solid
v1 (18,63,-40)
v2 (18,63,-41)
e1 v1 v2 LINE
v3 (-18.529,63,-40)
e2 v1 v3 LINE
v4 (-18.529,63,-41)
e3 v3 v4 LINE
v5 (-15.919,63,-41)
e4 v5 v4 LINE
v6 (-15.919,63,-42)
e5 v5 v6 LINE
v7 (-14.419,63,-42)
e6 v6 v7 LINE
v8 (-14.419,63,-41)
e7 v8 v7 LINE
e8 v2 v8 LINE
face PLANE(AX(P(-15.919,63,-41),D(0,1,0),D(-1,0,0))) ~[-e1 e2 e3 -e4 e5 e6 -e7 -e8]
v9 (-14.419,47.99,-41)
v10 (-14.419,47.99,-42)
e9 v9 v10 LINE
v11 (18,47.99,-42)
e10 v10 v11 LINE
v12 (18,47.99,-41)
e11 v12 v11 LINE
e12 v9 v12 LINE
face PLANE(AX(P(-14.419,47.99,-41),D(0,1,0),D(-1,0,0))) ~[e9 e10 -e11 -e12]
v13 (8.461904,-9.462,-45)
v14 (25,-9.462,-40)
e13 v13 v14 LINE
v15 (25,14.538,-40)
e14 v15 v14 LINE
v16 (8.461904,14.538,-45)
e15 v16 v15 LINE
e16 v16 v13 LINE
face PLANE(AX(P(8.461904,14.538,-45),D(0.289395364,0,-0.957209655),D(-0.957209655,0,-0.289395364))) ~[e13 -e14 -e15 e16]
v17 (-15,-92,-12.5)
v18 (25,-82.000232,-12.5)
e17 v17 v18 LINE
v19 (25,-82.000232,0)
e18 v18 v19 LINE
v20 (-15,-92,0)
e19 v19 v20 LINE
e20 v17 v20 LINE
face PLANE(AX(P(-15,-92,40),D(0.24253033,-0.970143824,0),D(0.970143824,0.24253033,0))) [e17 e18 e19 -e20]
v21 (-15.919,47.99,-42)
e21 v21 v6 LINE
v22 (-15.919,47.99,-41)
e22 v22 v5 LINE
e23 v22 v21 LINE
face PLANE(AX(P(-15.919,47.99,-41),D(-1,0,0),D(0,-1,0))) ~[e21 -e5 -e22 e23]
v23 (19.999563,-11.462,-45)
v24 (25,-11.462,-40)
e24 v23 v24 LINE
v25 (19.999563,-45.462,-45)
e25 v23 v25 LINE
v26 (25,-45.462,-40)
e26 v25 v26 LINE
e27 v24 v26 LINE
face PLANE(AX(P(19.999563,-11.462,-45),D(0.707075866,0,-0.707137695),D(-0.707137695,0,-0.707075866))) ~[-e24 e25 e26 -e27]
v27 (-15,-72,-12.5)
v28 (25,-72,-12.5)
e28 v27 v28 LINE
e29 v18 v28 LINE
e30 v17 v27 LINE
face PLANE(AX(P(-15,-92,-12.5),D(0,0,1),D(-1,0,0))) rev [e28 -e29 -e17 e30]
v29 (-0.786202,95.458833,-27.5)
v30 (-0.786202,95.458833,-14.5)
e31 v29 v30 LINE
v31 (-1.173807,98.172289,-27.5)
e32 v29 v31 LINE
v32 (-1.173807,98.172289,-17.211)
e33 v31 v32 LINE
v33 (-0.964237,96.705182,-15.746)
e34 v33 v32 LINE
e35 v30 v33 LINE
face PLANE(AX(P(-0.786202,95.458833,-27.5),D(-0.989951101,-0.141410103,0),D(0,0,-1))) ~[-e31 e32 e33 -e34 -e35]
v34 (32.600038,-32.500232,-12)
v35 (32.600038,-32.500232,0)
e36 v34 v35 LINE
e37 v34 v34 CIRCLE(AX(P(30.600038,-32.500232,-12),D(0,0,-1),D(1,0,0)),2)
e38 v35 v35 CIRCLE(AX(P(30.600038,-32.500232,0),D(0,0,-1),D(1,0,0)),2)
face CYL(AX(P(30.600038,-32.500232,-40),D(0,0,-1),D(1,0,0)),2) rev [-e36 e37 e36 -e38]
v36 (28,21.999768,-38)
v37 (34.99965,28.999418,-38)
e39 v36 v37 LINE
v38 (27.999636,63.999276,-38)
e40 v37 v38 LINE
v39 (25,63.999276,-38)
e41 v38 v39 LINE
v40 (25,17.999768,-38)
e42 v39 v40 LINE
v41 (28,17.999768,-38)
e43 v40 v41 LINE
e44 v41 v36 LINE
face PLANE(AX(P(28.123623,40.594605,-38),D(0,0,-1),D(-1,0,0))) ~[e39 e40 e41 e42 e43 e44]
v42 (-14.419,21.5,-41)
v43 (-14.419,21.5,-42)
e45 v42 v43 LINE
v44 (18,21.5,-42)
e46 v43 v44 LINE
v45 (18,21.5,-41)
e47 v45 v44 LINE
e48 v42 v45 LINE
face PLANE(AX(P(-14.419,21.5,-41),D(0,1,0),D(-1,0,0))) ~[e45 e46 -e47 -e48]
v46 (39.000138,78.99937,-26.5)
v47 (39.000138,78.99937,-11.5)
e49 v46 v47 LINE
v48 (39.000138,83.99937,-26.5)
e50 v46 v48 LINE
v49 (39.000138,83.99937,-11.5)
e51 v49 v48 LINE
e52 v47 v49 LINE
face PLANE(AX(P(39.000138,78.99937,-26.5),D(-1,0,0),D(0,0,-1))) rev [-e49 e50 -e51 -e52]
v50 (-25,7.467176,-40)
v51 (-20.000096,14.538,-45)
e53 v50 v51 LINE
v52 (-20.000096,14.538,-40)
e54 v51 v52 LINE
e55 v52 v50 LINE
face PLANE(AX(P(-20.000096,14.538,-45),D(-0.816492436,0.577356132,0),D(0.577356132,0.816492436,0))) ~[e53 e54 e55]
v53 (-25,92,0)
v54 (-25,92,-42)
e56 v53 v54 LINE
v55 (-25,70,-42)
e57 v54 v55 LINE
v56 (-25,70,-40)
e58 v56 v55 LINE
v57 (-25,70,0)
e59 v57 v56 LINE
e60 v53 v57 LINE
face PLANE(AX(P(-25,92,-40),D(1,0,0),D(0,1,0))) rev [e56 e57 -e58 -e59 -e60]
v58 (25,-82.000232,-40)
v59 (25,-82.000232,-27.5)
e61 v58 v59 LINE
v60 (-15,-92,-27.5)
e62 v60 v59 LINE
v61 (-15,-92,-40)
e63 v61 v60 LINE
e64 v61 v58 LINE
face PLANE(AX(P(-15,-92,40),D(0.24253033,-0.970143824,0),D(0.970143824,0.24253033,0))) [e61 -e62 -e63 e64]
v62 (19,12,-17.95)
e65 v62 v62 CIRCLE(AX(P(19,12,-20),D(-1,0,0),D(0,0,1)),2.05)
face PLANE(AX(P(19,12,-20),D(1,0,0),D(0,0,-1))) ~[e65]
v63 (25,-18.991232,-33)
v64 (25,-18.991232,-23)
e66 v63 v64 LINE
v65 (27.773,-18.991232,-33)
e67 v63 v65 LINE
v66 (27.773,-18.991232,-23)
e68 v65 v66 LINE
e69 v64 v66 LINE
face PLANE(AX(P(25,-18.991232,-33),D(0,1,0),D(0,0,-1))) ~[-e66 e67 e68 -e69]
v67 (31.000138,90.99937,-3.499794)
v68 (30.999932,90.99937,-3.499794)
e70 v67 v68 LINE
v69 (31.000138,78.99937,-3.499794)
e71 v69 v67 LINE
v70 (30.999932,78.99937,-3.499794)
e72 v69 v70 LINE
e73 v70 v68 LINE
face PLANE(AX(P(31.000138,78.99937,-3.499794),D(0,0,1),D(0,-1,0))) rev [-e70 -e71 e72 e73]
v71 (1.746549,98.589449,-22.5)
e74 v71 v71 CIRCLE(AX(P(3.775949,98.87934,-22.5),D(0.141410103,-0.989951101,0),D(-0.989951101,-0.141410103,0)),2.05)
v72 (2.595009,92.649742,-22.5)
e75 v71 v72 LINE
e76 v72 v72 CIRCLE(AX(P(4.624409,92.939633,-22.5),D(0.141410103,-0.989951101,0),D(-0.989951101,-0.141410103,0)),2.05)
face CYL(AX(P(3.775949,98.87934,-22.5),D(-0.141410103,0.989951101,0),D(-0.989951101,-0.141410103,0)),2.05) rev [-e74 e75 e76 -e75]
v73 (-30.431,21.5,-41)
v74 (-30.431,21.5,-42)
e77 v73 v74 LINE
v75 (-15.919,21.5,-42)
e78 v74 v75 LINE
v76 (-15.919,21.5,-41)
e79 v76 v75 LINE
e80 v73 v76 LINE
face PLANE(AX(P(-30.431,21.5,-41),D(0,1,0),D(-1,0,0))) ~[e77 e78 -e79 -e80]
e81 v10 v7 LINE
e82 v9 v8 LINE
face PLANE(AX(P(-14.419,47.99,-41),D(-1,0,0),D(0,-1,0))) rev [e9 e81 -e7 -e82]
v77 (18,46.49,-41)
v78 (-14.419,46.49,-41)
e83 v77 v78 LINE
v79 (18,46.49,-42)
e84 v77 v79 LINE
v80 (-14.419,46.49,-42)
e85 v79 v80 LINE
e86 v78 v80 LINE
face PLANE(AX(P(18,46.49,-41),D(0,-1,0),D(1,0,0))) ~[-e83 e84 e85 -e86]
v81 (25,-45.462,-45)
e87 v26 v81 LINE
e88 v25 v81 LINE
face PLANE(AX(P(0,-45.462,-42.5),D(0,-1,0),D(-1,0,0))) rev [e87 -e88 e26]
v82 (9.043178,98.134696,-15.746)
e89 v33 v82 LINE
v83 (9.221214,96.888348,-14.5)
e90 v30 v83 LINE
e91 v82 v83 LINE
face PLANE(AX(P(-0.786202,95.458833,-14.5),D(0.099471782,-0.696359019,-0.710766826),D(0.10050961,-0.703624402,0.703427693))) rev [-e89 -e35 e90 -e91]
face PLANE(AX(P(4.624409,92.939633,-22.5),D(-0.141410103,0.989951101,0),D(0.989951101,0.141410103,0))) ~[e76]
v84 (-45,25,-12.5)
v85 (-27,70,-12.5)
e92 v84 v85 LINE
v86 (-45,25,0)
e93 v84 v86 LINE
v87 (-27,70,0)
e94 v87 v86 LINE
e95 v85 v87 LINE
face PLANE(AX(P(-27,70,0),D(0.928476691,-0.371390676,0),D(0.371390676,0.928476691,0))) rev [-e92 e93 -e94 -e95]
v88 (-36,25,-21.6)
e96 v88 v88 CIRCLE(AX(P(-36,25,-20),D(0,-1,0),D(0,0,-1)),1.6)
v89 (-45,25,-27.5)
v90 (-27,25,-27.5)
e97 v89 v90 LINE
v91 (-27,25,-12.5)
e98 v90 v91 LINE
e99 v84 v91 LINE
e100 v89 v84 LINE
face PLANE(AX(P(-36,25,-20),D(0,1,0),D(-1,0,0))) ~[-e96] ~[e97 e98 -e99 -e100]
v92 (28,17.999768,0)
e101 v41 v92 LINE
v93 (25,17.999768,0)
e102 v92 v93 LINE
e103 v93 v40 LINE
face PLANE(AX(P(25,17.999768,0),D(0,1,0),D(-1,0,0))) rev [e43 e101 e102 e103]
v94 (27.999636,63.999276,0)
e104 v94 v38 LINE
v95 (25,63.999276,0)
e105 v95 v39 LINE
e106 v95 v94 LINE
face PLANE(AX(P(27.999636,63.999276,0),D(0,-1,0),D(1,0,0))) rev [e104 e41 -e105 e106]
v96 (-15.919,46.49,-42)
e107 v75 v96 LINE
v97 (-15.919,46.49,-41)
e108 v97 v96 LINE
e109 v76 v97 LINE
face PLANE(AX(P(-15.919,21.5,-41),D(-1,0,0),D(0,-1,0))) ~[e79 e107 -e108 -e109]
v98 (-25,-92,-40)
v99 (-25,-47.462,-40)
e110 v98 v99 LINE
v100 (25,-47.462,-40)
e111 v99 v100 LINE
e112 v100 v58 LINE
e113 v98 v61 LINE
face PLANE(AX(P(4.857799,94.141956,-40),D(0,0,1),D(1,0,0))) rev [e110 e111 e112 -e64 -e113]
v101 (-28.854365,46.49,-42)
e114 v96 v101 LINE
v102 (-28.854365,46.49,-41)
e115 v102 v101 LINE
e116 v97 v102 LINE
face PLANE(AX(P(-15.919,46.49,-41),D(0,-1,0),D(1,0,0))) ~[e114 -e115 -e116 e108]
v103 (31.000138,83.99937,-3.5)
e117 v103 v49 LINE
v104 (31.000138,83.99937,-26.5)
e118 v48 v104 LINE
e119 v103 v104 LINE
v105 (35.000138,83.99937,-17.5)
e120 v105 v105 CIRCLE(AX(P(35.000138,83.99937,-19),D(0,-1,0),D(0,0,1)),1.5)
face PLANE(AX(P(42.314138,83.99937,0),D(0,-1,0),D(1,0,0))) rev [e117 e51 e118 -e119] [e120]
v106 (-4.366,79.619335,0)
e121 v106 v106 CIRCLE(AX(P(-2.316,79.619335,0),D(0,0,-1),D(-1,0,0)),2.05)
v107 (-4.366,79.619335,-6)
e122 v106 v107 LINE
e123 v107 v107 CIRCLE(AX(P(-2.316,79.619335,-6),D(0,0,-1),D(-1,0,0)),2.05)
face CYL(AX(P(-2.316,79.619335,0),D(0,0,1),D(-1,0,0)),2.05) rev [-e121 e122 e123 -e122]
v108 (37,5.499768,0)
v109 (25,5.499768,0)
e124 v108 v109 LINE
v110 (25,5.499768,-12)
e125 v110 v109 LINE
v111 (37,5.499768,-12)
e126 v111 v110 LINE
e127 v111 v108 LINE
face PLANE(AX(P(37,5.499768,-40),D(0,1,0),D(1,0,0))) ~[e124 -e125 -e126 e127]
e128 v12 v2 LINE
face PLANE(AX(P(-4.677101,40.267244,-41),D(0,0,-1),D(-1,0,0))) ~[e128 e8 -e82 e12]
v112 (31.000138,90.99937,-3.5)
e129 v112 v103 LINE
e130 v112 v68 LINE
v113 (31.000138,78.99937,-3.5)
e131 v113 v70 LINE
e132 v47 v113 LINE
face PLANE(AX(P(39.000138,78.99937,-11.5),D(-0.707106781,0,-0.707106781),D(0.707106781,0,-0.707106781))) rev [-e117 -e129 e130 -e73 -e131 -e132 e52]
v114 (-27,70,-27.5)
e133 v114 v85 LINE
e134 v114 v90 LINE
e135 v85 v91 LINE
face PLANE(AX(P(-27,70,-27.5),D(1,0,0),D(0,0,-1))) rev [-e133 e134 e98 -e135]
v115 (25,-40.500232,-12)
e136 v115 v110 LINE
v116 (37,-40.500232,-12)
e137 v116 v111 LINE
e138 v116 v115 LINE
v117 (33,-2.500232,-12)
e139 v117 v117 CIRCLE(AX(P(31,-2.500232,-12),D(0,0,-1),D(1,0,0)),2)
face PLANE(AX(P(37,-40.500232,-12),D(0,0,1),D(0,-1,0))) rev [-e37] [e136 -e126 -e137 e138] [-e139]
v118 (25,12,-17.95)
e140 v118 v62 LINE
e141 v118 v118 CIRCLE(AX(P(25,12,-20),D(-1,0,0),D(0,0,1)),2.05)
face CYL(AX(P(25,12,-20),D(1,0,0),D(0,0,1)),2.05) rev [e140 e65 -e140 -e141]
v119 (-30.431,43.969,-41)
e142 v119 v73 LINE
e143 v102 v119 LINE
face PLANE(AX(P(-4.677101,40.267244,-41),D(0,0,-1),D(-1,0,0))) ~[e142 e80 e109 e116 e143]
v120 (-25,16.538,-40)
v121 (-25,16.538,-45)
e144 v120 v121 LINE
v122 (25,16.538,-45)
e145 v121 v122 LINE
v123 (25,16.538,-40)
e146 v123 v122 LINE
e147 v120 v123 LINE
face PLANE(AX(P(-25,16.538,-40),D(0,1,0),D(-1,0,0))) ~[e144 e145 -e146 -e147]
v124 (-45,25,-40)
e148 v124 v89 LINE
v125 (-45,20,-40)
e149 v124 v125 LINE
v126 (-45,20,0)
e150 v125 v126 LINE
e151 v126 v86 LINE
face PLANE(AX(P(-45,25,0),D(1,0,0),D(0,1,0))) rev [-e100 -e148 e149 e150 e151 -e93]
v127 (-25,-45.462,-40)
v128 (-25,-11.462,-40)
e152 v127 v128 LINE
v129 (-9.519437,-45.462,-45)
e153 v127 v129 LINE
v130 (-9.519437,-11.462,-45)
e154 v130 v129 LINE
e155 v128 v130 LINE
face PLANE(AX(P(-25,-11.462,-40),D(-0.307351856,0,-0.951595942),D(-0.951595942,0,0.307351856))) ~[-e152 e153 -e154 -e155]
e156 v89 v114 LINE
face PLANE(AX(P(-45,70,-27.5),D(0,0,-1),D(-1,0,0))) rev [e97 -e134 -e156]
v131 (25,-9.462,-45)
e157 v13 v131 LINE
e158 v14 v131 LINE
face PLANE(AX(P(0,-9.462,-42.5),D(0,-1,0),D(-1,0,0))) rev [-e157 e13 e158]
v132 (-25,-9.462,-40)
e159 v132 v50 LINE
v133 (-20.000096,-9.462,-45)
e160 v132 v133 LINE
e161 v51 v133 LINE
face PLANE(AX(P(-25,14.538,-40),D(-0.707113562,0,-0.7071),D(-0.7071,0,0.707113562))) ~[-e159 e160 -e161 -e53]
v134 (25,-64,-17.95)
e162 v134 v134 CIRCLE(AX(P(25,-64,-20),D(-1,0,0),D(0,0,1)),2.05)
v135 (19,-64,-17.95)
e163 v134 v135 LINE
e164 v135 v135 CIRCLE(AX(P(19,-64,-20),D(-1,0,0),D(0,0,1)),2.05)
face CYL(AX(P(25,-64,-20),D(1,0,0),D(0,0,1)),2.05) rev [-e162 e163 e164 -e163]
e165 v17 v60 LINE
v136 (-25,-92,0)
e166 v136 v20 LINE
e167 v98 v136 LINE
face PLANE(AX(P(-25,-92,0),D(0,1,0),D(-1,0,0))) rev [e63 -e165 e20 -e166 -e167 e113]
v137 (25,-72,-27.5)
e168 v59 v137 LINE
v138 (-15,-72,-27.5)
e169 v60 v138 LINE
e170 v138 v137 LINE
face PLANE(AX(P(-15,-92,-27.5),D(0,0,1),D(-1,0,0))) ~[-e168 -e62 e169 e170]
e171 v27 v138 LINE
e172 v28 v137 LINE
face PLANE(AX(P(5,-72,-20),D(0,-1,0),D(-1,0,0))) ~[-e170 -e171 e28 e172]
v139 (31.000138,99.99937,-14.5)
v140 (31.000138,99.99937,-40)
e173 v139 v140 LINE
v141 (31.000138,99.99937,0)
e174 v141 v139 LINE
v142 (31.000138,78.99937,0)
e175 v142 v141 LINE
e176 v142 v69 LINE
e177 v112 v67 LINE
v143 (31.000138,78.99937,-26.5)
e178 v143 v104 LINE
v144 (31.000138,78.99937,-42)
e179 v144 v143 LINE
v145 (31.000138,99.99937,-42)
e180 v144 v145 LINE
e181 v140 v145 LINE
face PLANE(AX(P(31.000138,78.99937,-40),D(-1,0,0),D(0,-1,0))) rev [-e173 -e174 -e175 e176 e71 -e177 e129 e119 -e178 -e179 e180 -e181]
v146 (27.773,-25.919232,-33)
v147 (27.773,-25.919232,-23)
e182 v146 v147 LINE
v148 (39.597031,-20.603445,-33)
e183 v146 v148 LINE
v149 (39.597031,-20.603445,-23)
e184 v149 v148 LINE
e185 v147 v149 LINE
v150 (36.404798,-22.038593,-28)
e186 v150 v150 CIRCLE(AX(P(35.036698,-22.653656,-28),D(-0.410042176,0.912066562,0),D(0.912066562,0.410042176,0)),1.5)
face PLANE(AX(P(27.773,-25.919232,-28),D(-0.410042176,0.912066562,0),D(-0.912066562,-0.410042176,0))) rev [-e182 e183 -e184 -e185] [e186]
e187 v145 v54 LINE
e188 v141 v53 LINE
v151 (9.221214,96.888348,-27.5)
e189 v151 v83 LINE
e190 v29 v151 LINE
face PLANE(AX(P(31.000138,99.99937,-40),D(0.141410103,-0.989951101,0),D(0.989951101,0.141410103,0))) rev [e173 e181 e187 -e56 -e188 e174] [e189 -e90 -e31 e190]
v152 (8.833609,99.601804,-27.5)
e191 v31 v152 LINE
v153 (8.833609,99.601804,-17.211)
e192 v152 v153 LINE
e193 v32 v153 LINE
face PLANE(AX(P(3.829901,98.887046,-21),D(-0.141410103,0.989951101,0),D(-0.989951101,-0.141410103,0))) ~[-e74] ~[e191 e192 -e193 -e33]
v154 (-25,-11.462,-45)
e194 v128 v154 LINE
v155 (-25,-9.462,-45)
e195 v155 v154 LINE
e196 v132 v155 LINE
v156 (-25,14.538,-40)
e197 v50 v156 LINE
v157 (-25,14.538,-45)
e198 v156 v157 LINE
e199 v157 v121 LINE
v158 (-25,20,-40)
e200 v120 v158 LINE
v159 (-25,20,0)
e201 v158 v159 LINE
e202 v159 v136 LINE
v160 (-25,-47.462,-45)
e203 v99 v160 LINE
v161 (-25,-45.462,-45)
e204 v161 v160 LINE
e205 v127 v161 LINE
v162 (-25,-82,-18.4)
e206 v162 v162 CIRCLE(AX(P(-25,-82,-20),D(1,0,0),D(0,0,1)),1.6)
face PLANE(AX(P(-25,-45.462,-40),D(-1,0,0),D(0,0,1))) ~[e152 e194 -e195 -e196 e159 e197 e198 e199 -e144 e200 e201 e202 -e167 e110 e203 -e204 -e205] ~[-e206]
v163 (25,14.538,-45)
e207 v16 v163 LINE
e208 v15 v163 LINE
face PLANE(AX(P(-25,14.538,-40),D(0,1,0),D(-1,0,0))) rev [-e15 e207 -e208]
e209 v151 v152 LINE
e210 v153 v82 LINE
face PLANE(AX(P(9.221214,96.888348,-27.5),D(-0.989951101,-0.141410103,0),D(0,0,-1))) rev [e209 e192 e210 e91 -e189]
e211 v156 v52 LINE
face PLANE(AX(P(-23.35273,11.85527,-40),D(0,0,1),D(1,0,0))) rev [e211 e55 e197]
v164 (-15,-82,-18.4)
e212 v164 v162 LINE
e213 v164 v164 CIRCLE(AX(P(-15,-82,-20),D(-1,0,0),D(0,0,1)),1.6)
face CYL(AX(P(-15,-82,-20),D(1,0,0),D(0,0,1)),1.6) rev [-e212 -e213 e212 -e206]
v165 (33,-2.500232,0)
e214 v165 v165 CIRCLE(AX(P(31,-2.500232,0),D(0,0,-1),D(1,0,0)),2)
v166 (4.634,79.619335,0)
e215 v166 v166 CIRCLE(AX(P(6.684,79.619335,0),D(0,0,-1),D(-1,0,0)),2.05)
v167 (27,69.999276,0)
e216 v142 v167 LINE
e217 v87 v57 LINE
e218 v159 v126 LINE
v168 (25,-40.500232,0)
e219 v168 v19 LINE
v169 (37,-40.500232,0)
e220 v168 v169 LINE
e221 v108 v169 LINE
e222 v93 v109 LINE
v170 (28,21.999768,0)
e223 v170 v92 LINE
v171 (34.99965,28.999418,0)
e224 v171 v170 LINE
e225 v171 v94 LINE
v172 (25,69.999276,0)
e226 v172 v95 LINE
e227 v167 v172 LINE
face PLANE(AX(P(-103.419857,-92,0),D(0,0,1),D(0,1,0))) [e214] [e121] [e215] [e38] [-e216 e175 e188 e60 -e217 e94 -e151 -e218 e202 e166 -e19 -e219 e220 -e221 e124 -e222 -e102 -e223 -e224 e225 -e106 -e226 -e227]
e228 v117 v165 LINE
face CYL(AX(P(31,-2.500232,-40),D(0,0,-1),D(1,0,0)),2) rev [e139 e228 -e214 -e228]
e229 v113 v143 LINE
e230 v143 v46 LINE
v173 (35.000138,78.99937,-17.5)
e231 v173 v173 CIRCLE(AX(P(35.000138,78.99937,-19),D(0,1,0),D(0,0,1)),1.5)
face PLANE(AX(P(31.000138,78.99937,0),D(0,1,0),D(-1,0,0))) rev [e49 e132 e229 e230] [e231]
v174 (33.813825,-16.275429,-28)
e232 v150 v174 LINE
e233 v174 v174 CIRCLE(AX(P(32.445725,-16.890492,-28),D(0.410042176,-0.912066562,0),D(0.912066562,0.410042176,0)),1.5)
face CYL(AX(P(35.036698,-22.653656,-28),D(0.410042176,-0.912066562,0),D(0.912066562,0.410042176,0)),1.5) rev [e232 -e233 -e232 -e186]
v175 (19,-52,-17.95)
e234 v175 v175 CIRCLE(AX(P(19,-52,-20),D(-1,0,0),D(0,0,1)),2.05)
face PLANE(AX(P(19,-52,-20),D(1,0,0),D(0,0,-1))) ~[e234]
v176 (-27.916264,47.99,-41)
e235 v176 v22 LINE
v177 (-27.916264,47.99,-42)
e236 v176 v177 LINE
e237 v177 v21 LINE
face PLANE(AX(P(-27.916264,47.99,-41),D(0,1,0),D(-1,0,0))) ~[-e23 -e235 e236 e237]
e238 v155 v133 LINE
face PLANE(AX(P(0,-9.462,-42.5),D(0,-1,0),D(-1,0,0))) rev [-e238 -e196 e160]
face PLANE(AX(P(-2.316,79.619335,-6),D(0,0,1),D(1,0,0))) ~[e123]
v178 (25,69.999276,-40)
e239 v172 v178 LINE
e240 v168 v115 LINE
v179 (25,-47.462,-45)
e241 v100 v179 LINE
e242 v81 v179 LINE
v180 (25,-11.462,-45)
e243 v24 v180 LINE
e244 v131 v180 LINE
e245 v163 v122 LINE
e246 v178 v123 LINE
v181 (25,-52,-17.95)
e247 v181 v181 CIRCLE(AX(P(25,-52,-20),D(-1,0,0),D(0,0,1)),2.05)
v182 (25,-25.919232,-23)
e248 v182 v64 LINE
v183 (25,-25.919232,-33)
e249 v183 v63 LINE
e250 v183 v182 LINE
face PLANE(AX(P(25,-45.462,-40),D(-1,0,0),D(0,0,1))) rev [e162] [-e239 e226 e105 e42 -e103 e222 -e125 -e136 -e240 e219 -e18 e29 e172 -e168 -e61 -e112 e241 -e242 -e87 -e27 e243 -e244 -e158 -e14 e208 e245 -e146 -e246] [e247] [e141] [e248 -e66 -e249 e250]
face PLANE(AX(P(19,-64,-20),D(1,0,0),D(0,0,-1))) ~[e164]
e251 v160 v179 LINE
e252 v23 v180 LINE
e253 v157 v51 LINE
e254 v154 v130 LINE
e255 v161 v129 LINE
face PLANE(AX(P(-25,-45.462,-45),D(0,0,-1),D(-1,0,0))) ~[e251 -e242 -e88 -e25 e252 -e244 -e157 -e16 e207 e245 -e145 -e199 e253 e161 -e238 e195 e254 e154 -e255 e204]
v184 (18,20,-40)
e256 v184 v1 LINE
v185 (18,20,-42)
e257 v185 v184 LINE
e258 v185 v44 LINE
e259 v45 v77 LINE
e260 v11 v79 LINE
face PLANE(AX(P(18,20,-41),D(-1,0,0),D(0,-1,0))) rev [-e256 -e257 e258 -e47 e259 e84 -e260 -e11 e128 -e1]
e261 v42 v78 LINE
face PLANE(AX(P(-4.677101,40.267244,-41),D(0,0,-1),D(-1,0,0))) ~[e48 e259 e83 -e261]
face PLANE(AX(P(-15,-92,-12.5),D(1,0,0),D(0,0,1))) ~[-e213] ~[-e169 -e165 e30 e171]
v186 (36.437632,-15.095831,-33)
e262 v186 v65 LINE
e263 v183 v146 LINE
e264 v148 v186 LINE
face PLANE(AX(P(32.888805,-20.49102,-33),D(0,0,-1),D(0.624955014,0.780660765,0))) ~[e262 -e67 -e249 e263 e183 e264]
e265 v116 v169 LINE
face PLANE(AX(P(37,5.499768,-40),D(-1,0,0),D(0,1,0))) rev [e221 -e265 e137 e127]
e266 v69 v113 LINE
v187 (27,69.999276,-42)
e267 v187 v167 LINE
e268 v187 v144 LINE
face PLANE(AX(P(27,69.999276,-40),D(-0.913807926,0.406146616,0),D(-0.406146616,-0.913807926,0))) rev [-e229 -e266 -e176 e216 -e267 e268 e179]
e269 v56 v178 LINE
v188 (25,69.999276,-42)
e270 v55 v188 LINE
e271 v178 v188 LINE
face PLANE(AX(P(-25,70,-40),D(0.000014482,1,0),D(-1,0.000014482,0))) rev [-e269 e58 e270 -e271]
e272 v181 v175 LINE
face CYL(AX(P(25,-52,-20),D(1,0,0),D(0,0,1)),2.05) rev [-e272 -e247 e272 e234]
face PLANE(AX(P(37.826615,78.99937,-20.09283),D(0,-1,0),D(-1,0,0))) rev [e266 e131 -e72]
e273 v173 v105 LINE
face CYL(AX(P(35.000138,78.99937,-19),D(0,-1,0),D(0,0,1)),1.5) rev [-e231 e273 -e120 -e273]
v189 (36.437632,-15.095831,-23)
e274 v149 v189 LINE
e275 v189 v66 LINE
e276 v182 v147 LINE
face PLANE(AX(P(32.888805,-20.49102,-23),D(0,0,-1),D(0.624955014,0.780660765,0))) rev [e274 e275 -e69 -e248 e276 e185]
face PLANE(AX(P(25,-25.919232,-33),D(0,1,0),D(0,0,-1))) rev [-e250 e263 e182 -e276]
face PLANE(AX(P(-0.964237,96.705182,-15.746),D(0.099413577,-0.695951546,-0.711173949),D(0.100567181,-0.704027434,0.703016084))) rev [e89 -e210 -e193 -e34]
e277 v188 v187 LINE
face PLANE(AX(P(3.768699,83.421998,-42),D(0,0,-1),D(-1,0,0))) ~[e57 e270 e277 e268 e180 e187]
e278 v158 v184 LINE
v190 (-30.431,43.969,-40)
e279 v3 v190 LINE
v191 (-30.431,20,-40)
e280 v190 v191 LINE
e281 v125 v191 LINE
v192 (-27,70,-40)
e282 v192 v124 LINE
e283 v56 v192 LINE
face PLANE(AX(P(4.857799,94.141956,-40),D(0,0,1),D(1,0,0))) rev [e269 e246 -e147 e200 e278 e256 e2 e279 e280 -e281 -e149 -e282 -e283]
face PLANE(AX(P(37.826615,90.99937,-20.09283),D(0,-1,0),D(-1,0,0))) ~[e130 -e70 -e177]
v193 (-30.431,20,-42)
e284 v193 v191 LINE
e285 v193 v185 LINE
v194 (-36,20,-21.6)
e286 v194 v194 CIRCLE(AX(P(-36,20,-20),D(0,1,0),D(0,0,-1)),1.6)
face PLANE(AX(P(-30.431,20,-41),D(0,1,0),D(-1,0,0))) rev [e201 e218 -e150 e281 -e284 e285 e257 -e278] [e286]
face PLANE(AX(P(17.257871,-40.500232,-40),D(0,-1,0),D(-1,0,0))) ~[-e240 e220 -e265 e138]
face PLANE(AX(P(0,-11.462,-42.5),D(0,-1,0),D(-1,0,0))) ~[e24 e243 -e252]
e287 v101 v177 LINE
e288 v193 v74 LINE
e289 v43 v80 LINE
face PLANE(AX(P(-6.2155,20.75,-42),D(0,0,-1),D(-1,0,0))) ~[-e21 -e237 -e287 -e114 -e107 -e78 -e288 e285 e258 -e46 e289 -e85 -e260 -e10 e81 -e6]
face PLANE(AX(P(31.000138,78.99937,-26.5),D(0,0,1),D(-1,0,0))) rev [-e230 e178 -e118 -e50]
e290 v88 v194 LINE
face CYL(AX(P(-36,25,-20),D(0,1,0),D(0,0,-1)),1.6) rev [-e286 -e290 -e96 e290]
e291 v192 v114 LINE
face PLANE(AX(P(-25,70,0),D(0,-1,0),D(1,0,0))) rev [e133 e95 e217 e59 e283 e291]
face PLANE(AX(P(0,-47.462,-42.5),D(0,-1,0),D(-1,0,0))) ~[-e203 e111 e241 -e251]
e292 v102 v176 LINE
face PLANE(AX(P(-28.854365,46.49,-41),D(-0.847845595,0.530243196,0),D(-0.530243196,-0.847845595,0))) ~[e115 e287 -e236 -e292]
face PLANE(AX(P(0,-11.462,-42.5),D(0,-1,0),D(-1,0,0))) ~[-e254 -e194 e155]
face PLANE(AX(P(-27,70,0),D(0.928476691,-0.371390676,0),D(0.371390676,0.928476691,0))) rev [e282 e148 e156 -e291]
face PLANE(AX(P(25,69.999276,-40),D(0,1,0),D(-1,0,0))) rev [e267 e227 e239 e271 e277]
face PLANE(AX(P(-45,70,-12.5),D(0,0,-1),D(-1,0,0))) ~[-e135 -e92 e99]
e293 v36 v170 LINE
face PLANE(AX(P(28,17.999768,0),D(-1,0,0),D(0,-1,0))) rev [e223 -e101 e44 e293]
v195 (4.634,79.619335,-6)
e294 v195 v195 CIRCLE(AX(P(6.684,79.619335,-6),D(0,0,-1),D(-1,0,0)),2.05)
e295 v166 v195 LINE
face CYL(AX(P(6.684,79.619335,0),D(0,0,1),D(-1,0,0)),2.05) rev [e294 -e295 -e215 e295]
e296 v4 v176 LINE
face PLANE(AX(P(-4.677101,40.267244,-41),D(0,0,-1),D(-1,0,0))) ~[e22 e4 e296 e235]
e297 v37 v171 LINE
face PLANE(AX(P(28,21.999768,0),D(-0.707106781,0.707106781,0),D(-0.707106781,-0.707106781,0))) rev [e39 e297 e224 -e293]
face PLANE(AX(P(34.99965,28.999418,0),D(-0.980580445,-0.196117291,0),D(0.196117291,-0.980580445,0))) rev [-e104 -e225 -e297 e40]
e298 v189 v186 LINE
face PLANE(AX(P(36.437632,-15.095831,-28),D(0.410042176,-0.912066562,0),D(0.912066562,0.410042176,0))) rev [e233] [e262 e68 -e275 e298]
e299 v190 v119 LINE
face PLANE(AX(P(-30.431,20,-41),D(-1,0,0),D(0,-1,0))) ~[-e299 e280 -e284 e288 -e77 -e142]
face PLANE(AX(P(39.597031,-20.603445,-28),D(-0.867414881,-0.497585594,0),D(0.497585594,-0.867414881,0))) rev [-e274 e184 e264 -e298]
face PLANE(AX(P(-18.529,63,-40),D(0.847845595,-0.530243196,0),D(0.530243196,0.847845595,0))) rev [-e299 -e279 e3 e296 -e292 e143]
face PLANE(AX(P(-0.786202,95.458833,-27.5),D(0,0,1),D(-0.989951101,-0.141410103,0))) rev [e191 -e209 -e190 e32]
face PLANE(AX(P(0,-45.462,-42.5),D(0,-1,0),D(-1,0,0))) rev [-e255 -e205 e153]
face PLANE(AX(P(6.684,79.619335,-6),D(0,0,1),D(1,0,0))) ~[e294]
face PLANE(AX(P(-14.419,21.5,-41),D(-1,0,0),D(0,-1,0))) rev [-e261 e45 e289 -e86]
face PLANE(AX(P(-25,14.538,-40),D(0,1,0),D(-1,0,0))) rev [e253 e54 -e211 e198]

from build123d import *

# Parameters (mm, degrees)
CROQUIS1_W                  = 50
CROQUIS1_H                  = 184
SALIENTE_EXTRUIR1_DEPTH     = 40
CORTAR_EXTRUIR1_DEPTH       = 40
CROQUIS3_R                  = 2
SALIENTE_EXTRUIR2_DEPTH     = 40
SALIENTE_EXTRUIR3_DEPTH     = 38
SALIENTE_EXTRUIR4_DEPTH     = 40
CROQUIS9_W                  = 28
CROQUIS9_H                  = 46
CORTAR_EXTRUIR6_DEPTH       = 12
CORTAR_EXTRUIR8_DEPTH       = 12
CROQUIS13_W                 = 3.499793878
CROQUIS13_H                 = 12
SALIENTE_EXTRUIR5_DEPTH     = 12
CROQUIS14_R                 = 1.5
CORTAR_EXTRUIR9_DEPTH       = 12
CROQUIS16_W                 = 10
CROQUIS16_H                 = 6.928
SALIENTE_EXTRUIR6_DEPTH     = 2.773
SALIENTE_EXTRUIR7_DEPTH     = 5
CROQUIS19_R                 = 1.5
CORTAR_EXTRUIR10_DEPTH      = 10
CROQUIS20_W                 = 40
CROQUIS20_H                 = 15
CORTAR_EXTRUIR11_DEPTH      = 20
SALIENTE_EXTRUIR8_DEPTH     = 40
SALIENTE_EXTRUIR9_DEPTH     = 40
SALIENTE_EXTRUIR10_DEPTH    = 2
CROQUIS25_W                 = 18
CROQUIS25_H                 = 15
CORTAR_EXTRUIR12_DEPTH      = 45
CROQUIS26_R                 = 1.6
CORTAR_EXTRUIR13_DEPTH      = 45
SALIENTE_EXTRUIR11_DEPTH    = 1
CROQUIS29_W                 = 48.431
CROQUIS29_H                 = 1.5
CROQUIS29_W_2               = 1.5
CROQUIS29_H_2               = 41.5
SALIENTE_EXTRUIR12_DEPTH    = 1
CROQUIS30_W                 = 50
CROQUIS30_H                 = 2
SALIENTE_EXTRUIR13_DEPTH    = 5
SALIENTE_EXTRUIR14_DEPTH    = 24
CORTAR_EXTRUIR14_DEPTH      = 5
CROQUIS33_W                 = 50
CROQUIS33_H                 = 5
SALIENTE_EXTRUIR15_DEPTH    = 2
SALIENTE_EXTRUIR16_DEPTH    = 34
CROQUIS35_W                 = 50
CROQUIS35_H                 = 5
SALIENTE_EXTRUIR17_DEPTH    = 2
CROQUIS36_R                 = 1.6
CORTAR_EXTRUIR15_DEPTH      = 123.497795141
CROQUIS37_R                 = 2.05
CORTAR_EXTRUIR16_DEPTH      = 6
CROQUIS38_R                 = 2.05
CORTAR_EXTRUIR17_DEPTH      = 6
CROQUIS39_W                 = 10.109
CROQUIS39_H                 = 13
SALIENTE_EXTRUIR18_DEPTH    = 2.741
CORTAR_EXTRUIR18_DEPTH      = 123.414338069
CROQUIS42_R                 = 2.05
CORTAR_EXTRUIR19_DEPTH      = 6
CORTAR_EXTRUIR20_DEPTH      = 134.419994789
CORTAR_EXTRUIR20_DEPTH_BACK = 134.419994789
CROQUIS44_W                 = 64.640952058
CROQUIS44_H                 = 86.005379165
CORTAR_EXTRUIR21_DEPTH      = 134.419994789


with BuildPart() as part:
    # Croquis1 → Saliente-Extruir1 (new body)
    with BuildSketch(Plane.XY):
        Rectangle(CROQUIS1_W, CROQUIS1_H)
    saliente_extruir1 = extrude(amount=SALIENTE_EXTRUIR1_DEPTH)

    # Croquis2 → Cortar-Extruir1 (cut)
    with BuildSketch(Plane.XY.offset(40)):
        Polygon((-15, -92), (25, -82.000231953), (25, -92), align=None)
    cortar_extruir1 = extrude(amount=-CORTAR_EXTRUIR1_DEPTH, mode=Mode.SUBTRACT)

    # Croquis3 → Saliente-Extruir2 (add, through all)
    with BuildSketch(Plane.XY.offset(40)):
        Polygon((25, -40.500231953), (17.257871302, -40.500231953), (17.257871302, 5.499768047), (23, 5.499768047), (37, 5.499768047), (37, -40.500231953), align=None)
        with Locations((30.600037882, -32.500231953)):
            Circle(CROQUIS3_R, mode=Mode.SUBTRACT)
        with Locations((31, -2.500231953)):
            Circle(CROQUIS3_R, mode=Mode.SUBTRACT)
    saliente_extruir2 = extrude(amount=-SALIENTE_EXTRUIR2_DEPTH)

    # Croquis7 → Saliente-Extruir3 (add)
    with BuildSketch(Plane(origin=(0, 0, 0), x_dir=(-1, 0, 0), z_dir=(0, 0, -1))):
        Polygon((-25, 17.999768047), (-28, 17.999768047), (-28, 21.999768047), (-34.999650027, 28.999418074), (-27.999635566, 63.999275882), (-25, 63.999275882), align=None)
    saliente_extruir3 = extrude(amount=-SALIENTE_EXTRUIR3_DEPTH)

    # Croquis8 → Saliente-Extruir4 (add, through all)
    with BuildSketch(Plane(origin=(0, 0, 0), x_dir=(-1, 0, 0), z_dir=(0, 0, -1))):
        Polygon((-25, 69.999275882), (-27, 69.999275882), (-31.000138025, 78.999370147), (-42.314138025, 78.999370147), (-42.314138025, 83.999370147), (-31.000138025, 83.999370147), (-31.000138025, 92), (-25, 92), align=None)
    saliente_extruir4 = extrude(amount=-SALIENTE_EXTRUIR4_DEPTH)

    # Croquis9 → Cortar-Extruir6 (cut)
    with BuildSketch(Plane(origin=(37, 0, 0), x_dir=(0, 0, -1), z_dir=(1, 0, 0))):
        with Locations((-26, -17.500231953)):
            Rectangle(CROQUIS9_W, CROQUIS9_H)
    cortar_extruir6 = extrude(amount=-CORTAR_EXTRUIR6_DEPTH, mode=Mode.SUBTRACT)

    # Croquis10 → Cortar-Extruir8 (cut)
    with BuildSketch(Plane.XZ.offset(-78.999370147)):
        Polygon((31.000138025, 40), (31.000138025, 26.5), (39.000138025, 26.5), (39.000138025, 11.5), (30.999931903, 3.499793878), (31.000138025, 0), (42.314138025, 0), (42.314138025, 40), align=None)
    cortar_extruir8 = extrude(amount=-CORTAR_EXTRUIR8_DEPTH, mode=Mode.SUBTRACT)

    # Croquis13 → Saliente-Extruir5 (add)
    with BuildSketch(Plane(origin=(31.000138025, 0, 0), x_dir=(0, 0, -1), z_dir=(1, 0, 0))):
        with Locations((-1.749896939, 84.999370147)):
            Rectangle(CROQUIS13_W, CROQUIS13_H)
    saliente_extruir5 = extrude(amount=-SALIENTE_EXTRUIR5_DEPTH)

    # Croquis14 → Cortar-Extruir9 (cut)
    with BuildSketch(Plane.XZ.offset(-78.999370147)):
        with Locations(Location((35.000138025, 19, 0), (0, 0, 270))):
            Circle(CROQUIS14_R)
    cortar_extruir9 = extrude(amount=-CORTAR_EXTRUIR9_DEPTH, mode=Mode.SUBTRACT)

    # Croquis16 → Saliente-Extruir6 (add)
    with BuildSketch(Plane(origin=(25, 0, 0), x_dir=(0, 0, -1), z_dir=(1, 0, 0))):
        with Locations((-28, -22.455231953)):
            Rectangle(CROQUIS16_W, CROQUIS16_H)
    saliente_extruir6 = extrude(amount=SALIENTE_EXTRUIR6_DEPTH)

    # Croquis3D1 → Saliente-Extruir7 (add, symmetric)
    with BuildSketch(Plane(origin=(27.773, -25.919231953, 28), x_dir=(0.6249550138681161, 0.7806607654039639, 0), z_dir=(0, 0, -1))):
        Polygon((0, 0), (11.53931357, 5.90842943), (13.864409677, 0), (5.408417783, -4.329688336), align=None)
    saliente_extruir7 = extrude(amount=SALIENTE_EXTRUIR7_DEPTH, both=True)

    # Croquis19 → Cortar-Extruir10 (cut)
    with BuildSketch(Plane(origin=(14.363025456, -31.948019069, 0), x_dir=(0.9120665622973847, 0.41004217580516156, 0), z_dir=(0.4100421758051615, -0.9120665622973846, 0))):
        with Locations((22.66684637, 28)):
            Circle(CROQUIS19_R)
    cortar_extruir10 = extrude(amount=-CORTAR_EXTRUIR10_DEPTH, mode=Mode.SUBTRACT)

    # Croquis20 → Cortar-Extruir11 (cut)
    with BuildSketch(Plane.XZ.offset(92)):
        with Locations((5, 20)):
            Rectangle(CROQUIS20_W, CROQUIS20_H)
    cortar_extruir11 = extrude(amount=-CORTAR_EXTRUIR11_DEPTH, mode=Mode.SUBTRACT)

    # Croquis21 → Saliente-Extruir8 (add)
    with BuildSketch(Plane(origin=(0, 0, 0), x_dir=(-1, 0, 0), z_dir=(0, 0, -1))):
        Polygon((25, 70), (27, 70), (45, 25), (45, 20), (25, 20), align=None)
    saliente_extruir8 = extrude(amount=-SALIENTE_EXTRUIR8_DEPTH)

    # Croquis22 → Saliente-Extruir9 (add)
    with BuildSketch(Plane.XY.offset(40)):
        Polygon((-25, 92), (31.000138025, 99.999370147), (31.000138025, 92), align=None)
    saliente_extruir9 = extrude(amount=-SALIENTE_EXTRUIR9_DEPTH)

    # Croquis23 → Saliente-Extruir10 (add)
    with BuildSketch(Plane.XY.offset(40)):
        Polygon((-25, 70), (25, 69.999275882), (27, 69.999275882), (31.000138025, 78.999370147), (31.000138025, 99.999370147), (-25, 92), align=None)
    saliente_extruir10 = extrude(amount=SALIENTE_EXTRUIR10_DEPTH)

    # Croquis25 → Cortar-Extruir12 (cut)
    with BuildSketch(Plane(origin=(0, 70, 0), x_dir=(1, 0, 0), z_dir=(0, 1, 0))):
        with Locations((-36, -20)):
            Rectangle(CROQUIS25_W, CROQUIS25_H)
    cortar_extruir12 = extrude(amount=-CORTAR_EXTRUIR12_DEPTH, mode=Mode.SUBTRACT)

    # Croquis26 → Cortar-Extruir13 (cut)
    with BuildSketch(Plane(origin=(0, 25, 0), x_dir=(1, 0, 0), z_dir=(0, 1, 0))):
        with Locations(Location((-36, -20, 0), (0, 0, 270))):
            Circle(CROQUIS26_R)
    cortar_extruir13 = extrude(amount=-CORTAR_EXTRUIR13_DEPTH, mode=Mode.SUBTRACT)

    # Croquis28 → Saliente-Extruir11 (add)
    with BuildSketch(Plane.XY.offset(40)):
        Polygon((-30.431, 20), (18, 20), (18, 63), (-18.529, 63), (-30.431, 43.969), align=None)
    saliente_extruir11 = extrude(amount=SALIENTE_EXTRUIR11_DEPTH)

    # Croquis29 → Saliente-Extruir12 (add)
    with BuildSketch(Plane.XY.offset(41)):
        with Locations((-6.2155, 20.75)):
            Rectangle(CROQUIS29_W, CROQUIS29_H)
        with Locations((-15.169, 42.25)):
            Rectangle(CROQUIS29_W_2, CROQUIS29_H_2)
        Polygon((-15.919, 47.99), (18, 47.99), (18, 46.49), (-28.854364931, 46.49), (-27.916263938, 47.99), align=None)
    saliente_extruir12 = extrude(amount=SALIENTE_EXTRUIR12_DEPTH)

    # Croquis30 → Saliente-Extruir13 (add)
    with BuildSketch(Plane.XY.offset(40)):
        with Locations((0, 15.538)):
            Rectangle(CROQUIS30_W, CROQUIS30_H)
    saliente_extruir13 = extrude(amount=SALIENTE_EXTRUIR13_DEPTH)

    # Croquis31 → Saliente-Extruir14 (add)
    with BuildSketch(Plane.XZ.offset(-14.538)):
        Polygon((-25, 40), (-20.000095901, 45), (8.461904099, 45), (25, 40), align=None)
    saliente_extruir14 = extrude(amount=SALIENTE_EXTRUIR14_DEPTH)

    # Croquis32 → Cortar-Extruir14 (cut)
    with BuildSketch(Plane.XY.offset(45)):
        Polygon((-20.000095901, 14.538), (-25, 7.467175508), (-25, 14.538), align=None)
    cortar_extruir14 = extrude(amount=-CORTAR_EXTRUIR14_DEPTH, mode=Mode.SUBTRACT)

    # Croquis33 → Saliente-Extruir15 (add)
    with BuildSketch(Plane.XZ.offset(9.462)):
        with Locations((0, 42.5)):
            Rectangle(CROQUIS33_W, CROQUIS33_H)
    saliente_extruir15 = extrude(amount=SALIENTE_EXTRUIR15_DEPTH)

    # Croquis34 → Saliente-Extruir16 (add)
    with BuildSketch(Plane.XZ.offset(11.462)):
        Polygon((-25, 40), (-9.51943722, 45), (19.99956278, 45), (25, 40), align=None)
    saliente_extruir16 = extrude(amount=SALIENTE_EXTRUIR16_DEPTH)

    # Croquis35 → Saliente-Extruir17 (add)
    with BuildSketch(Plane.XZ.offset(45.462)):
        with Locations((0, 42.5)):
            Rectangle(CROQUIS35_W, CROQUIS35_H)
    saliente_extruir17 = extrude(amount=SALIENTE_EXTRUIR17_DEPTH)

    # Croquis36 → Cortar-Extruir15 (cut, through all)
    with BuildSketch(Plane(origin=(-15, 0, 0), x_dir=(0, 0, -1), z_dir=(1, 0, 0))):
        with Locations((-20, -82)):
            Circle(CROQUIS36_R)
    cortar_extruir15 = extrude(amount=-CORTAR_EXTRUIR15_DEPTH, mode=Mode.SUBTRACT)

    # Croquis37 → Cortar-Extruir16 (cut)
    with BuildSketch(Plane(origin=(25, 0, 0), x_dir=(0, 0, -1), z_dir=(1, 0, 0))):
        with Locations((-20, -64)):
            Circle(CROQUIS37_R)
        with Locations((-20, -52)):
            Circle(CROQUIS37_R)
        with Locations((-20, 12)):
            Circle(CROQUIS37_R)
    cortar_extruir16 = extrude(amount=-CORTAR_EXTRUIR16_DEPTH, mode=Mode.SUBTRACT)

    # Croquis38 → Cortar-Extruir17 (cut)
    with BuildSketch(Plane(origin=(0, 0, 0), x_dir=(-1, 0, 0), z_dir=(0, 0, -1))):
        with Locations((-6.684, 79.619334724)):
            Circle(CROQUIS38_R)
        with Locations((2.316, 79.619334724)):
            Circle(CROQUIS38_R)
    cortar_extruir17 = extrude(amount=-CORTAR_EXTRUIR17_DEPTH, mode=Mode.SUBTRACT)

    # Croquis39 → Saliente-Extruir18 (add)
    with BuildSketch(Plane(origin=(-13.378916452, 93.660019994, 0), x_dir=(0.9899511012015357, 0.14141010299786488, 0), z_dir=(-0.14141010299786488, 0.9899511012015357, 0))):
        with Locations((17.775042007, -21)):
            Rectangle(CROQUIS39_W, CROQUIS39_H)
    saliente_extruir18 = extrude(amount=SALIENTE_EXTRUIR18_DEPTH)

    # Croquis40 → Cortar-Extruir18 (cut, through all)
    with BuildSketch(Plane(origin=(12.592714568, 1.798813155, 0), x_dir=(0, 0, 1), z_dir=(-0.9899511012015357, -0.14141010299786488, 0))):
        Polygon((14.5, 94.610753885), (15.746, 95.869753885), (17.211, 97.351753885), (14.5, 97.351753885), align=None)
    cortar_extruir18 = extrude(amount=-CORTAR_EXTRUIR18_DEPTH, mode=Mode.SUBTRACT)

    # Croquis42 → Cortar-Extruir19 (cut)
    with BuildSketch(Plane(origin=(-13.766521544, 96.373475963, 0), x_dir=(0.9899511012015357, 0.14141010299786486, 0), z_dir=(-0.14141010299786486, 0.9899511012015357, 0))):
        with Locations(Location((17.720542007, -22.5, 0), (0, 0, 180))):
            Circle(CROQUIS42_R)
    cortar_extruir19 = extrude(amount=-CORTAR_EXTRUIR19_DEPTH, mode=Mode.SUBTRACT)

    # Simetría1: Saliente-Extruir1, Cortar-Extruir1, Saliente-Extruir2, Saliente-Extruir3, Saliente-Extruir4, Cortar-Extruir6, Cortar-Extruir8, Saliente-Extruir5, Cortar-Extruir9, Saliente-Extruir6, Saliente-Extruir7, Cortar-Extruir10, Cortar-Extruir11, Saliente-Extruir8, Saliente-Extruir9, Saliente-Extruir10, Cortar-Extruir12, Cortar-Extruir13, Saliente-Extruir11, Saliente-Extruir12, Saliente-Extruir13, Saliente-Extruir14, Cortar-Extruir14, Saliente-Extruir15, Saliente-Extruir16, Saliente-Extruir17, Cortar-Extruir15, Cortar-Extruir16, Cortar-Extruir17, Saliente-Extruir18, Cortar-Extruir18, Cortar-Extruir19 across plane
    add(saliente_extruir1.mirror(Plane(origin=(0, 0, 0), x_dir=(1, 0, 0), z_dir=(0, 0, -1))))
    add(cortar_extruir1.mirror(Plane(origin=(0, 0, 0), x_dir=(1, 0, 0), z_dir=(0, 0, -1))), mode=Mode.SUBTRACT)
    add(saliente_extruir2.mirror(Plane(origin=(0, 0, 0), x_dir=(1, 0, 0), z_dir=(0, 0, -1))))
    add(saliente_extruir3.mirror(Plane(origin=(0, 0, 0), x_dir=(1, 0, 0), z_dir=(0, 0, -1))))
    add(saliente_extruir4.mirror(Plane(origin=(0, 0, 0), x_dir=(1, 0, 0), z_dir=(0, 0, -1))))
    add(cortar_extruir6.mirror(Plane(origin=(0, 0, 0), x_dir=(1, 0, 0), z_dir=(0, 0, -1))), mode=Mode.SUBTRACT)
    add(cortar_extruir8.mirror(Plane(origin=(0, 0, 0), x_dir=(1, 0, 0), z_dir=(0, 0, -1))), mode=Mode.SUBTRACT)
    add(saliente_extruir5.mirror(Plane(origin=(0, 0, 0), x_dir=(1, 0, 0), z_dir=(0, 0, -1))))
    add(cortar_extruir9.mirror(Plane(origin=(0, 0, 0), x_dir=(1, 0, 0), z_dir=(0, 0, -1))), mode=Mode.SUBTRACT)
    add(saliente_extruir6.mirror(Plane(origin=(0, 0, 0), x_dir=(1, 0, 0), z_dir=(0, 0, -1))))
    add(saliente_extruir7.mirror(Plane(origin=(0, 0, 0), x_dir=(1, 0, 0), z_dir=(0, 0, -1))))
    add(cortar_extruir10.mirror(Plane(origin=(0, 0, 0), x_dir=(1, 0, 0), z_dir=(0, 0, -1))), mode=Mode.SUBTRACT)
    add(cortar_extruir11.mirror(Plane(origin=(0, 0, 0), x_dir=(1, 0, 0), z_dir=(0, 0, -1))), mode=Mode.SUBTRACT)
    add(saliente_extruir8.mirror(Plane(origin=(0, 0, 0), x_dir=(1, 0, 0), z_dir=(0, 0, -1))))
    add(saliente_extruir9.mirror(Plane(origin=(0, 0, 0), x_dir=(1, 0, 0), z_dir=(0, 0, -1))))
    add(saliente_extruir10.mirror(Plane(origin=(0, 0, 0), x_dir=(1, 0, 0), z_dir=(0, 0, -1))))
    add(cortar_extruir12.mirror(Plane(origin=(0, 0, 0), x_dir=(1, 0, 0), z_dir=(0, 0, -1))), mode=Mode.SUBTRACT)
    add(cortar_extruir13.mirror(Plane(origin=(0, 0, 0), x_dir=(1, 0, 0), z_dir=(0, 0, -1))), mode=Mode.SUBTRACT)
    add(saliente_extruir11.mirror(Plane(origin=(0, 0, 0), x_dir=(1, 0, 0), z_dir=(0, 0, -1))))
    add(saliente_extruir12.mirror(Plane(origin=(0, 0, 0), x_dir=(1, 0, 0), z_dir=(0, 0, -1))))
    add(saliente_extruir13.mirror(Plane(origin=(0, 0, 0), x_dir=(1, 0, 0), z_dir=(0, 0, -1))))
    add(saliente_extruir14.mirror(Plane(origin=(0, 0, 0), x_dir=(1, 0, 0), z_dir=(0, 0, -1))))
    add(cortar_extruir14.mirror(Plane(origin=(0, 0, 0), x_dir=(1, 0, 0), z_dir=(0, 0, -1))), mode=Mode.SUBTRACT)
    add(saliente_extruir15.mirror(Plane(origin=(0, 0, 0), x_dir=(1, 0, 0), z_dir=(0, 0, -1))))
    add(saliente_extruir16.mirror(Plane(origin=(0, 0, 0), x_dir=(1, 0, 0), z_dir=(0, 0, -1))))
    add(saliente_extruir17.mirror(Plane(origin=(0, 0, 0), x_dir=(1, 0, 0), z_dir=(0, 0, -1))))
    add(cortar_extruir15.mirror(Plane(origin=(0, 0, 0), x_dir=(1, 0, 0), z_dir=(0, 0, -1))), mode=Mode.SUBTRACT)
    add(cortar_extruir16.mirror(Plane(origin=(0, 0, 0), x_dir=(1, 0, 0), z_dir=(0, 0, -1))), mode=Mode.SUBTRACT)
    add(cortar_extruir17.mirror(Plane(origin=(0, 0, 0), x_dir=(1, 0, 0), z_dir=(0, 0, -1))), mode=Mode.SUBTRACT)
    add(saliente_extruir18.mirror(Plane(origin=(0, 0, 0), x_dir=(1, 0, 0), z_dir=(0, 0, -1))))
    add(cortar_extruir18.mirror(Plane(origin=(0, 0, 0), x_dir=(1, 0, 0), z_dir=(0, 0, -1))), mode=Mode.SUBTRACT)
    add(cortar_extruir19.mirror(Plane(origin=(0, 0, 0), x_dir=(1, 0, 0), z_dir=(0, 0, -1))), mode=Mode.SUBTRACT)

    # Croquis43 → Cortar-Extruir20 (cut, two sides: drawn at the far end of the back side and taken through both)
    with BuildSketch(Plane(origin=(31.000138025, 0, 0), x_dir=(0, 0, -1), z_dir=(1, 0, 0)).offset(-CORTAR_EXTRUIR20_DEPTH_BACK)):
        Polygon((0, -92), (0, 78.999370147), (-3.499793878, 78.999370147), (-3.499793878, 90.999370147), (-3.5, 90.999370147), (-3.5, 83.999370147), (-26.5, 83.999370147), (-26.5, 78.999370147), (-42, 78.999370147), (-42, 99.999370147), (-89.715915191, 99.999370147), (-89.715915191, -92), align=None)
    extrude(amount=CORTAR_EXTRUIR20_DEPTH + CORTAR_EXTRUIR20_DEPTH_BACK, mode=Mode.SUBTRACT)

    # Croquis44 → Cortar-Extruir21 (cut, through all)
    with BuildSketch(Plane(origin=(31.000138025, 0, 0), x_dir=(0, 0, -1), z_dir=(1, 0, 0))):
        with Locations((-32.320476029, 95.928740373)):
            Rectangle(CROQUIS44_W, CROQUIS44_H)
    extrude(amount=-CORTAR_EXTRUIR21_DEPTH, mode=Mode.SUBTRACT)


solid = part.part
